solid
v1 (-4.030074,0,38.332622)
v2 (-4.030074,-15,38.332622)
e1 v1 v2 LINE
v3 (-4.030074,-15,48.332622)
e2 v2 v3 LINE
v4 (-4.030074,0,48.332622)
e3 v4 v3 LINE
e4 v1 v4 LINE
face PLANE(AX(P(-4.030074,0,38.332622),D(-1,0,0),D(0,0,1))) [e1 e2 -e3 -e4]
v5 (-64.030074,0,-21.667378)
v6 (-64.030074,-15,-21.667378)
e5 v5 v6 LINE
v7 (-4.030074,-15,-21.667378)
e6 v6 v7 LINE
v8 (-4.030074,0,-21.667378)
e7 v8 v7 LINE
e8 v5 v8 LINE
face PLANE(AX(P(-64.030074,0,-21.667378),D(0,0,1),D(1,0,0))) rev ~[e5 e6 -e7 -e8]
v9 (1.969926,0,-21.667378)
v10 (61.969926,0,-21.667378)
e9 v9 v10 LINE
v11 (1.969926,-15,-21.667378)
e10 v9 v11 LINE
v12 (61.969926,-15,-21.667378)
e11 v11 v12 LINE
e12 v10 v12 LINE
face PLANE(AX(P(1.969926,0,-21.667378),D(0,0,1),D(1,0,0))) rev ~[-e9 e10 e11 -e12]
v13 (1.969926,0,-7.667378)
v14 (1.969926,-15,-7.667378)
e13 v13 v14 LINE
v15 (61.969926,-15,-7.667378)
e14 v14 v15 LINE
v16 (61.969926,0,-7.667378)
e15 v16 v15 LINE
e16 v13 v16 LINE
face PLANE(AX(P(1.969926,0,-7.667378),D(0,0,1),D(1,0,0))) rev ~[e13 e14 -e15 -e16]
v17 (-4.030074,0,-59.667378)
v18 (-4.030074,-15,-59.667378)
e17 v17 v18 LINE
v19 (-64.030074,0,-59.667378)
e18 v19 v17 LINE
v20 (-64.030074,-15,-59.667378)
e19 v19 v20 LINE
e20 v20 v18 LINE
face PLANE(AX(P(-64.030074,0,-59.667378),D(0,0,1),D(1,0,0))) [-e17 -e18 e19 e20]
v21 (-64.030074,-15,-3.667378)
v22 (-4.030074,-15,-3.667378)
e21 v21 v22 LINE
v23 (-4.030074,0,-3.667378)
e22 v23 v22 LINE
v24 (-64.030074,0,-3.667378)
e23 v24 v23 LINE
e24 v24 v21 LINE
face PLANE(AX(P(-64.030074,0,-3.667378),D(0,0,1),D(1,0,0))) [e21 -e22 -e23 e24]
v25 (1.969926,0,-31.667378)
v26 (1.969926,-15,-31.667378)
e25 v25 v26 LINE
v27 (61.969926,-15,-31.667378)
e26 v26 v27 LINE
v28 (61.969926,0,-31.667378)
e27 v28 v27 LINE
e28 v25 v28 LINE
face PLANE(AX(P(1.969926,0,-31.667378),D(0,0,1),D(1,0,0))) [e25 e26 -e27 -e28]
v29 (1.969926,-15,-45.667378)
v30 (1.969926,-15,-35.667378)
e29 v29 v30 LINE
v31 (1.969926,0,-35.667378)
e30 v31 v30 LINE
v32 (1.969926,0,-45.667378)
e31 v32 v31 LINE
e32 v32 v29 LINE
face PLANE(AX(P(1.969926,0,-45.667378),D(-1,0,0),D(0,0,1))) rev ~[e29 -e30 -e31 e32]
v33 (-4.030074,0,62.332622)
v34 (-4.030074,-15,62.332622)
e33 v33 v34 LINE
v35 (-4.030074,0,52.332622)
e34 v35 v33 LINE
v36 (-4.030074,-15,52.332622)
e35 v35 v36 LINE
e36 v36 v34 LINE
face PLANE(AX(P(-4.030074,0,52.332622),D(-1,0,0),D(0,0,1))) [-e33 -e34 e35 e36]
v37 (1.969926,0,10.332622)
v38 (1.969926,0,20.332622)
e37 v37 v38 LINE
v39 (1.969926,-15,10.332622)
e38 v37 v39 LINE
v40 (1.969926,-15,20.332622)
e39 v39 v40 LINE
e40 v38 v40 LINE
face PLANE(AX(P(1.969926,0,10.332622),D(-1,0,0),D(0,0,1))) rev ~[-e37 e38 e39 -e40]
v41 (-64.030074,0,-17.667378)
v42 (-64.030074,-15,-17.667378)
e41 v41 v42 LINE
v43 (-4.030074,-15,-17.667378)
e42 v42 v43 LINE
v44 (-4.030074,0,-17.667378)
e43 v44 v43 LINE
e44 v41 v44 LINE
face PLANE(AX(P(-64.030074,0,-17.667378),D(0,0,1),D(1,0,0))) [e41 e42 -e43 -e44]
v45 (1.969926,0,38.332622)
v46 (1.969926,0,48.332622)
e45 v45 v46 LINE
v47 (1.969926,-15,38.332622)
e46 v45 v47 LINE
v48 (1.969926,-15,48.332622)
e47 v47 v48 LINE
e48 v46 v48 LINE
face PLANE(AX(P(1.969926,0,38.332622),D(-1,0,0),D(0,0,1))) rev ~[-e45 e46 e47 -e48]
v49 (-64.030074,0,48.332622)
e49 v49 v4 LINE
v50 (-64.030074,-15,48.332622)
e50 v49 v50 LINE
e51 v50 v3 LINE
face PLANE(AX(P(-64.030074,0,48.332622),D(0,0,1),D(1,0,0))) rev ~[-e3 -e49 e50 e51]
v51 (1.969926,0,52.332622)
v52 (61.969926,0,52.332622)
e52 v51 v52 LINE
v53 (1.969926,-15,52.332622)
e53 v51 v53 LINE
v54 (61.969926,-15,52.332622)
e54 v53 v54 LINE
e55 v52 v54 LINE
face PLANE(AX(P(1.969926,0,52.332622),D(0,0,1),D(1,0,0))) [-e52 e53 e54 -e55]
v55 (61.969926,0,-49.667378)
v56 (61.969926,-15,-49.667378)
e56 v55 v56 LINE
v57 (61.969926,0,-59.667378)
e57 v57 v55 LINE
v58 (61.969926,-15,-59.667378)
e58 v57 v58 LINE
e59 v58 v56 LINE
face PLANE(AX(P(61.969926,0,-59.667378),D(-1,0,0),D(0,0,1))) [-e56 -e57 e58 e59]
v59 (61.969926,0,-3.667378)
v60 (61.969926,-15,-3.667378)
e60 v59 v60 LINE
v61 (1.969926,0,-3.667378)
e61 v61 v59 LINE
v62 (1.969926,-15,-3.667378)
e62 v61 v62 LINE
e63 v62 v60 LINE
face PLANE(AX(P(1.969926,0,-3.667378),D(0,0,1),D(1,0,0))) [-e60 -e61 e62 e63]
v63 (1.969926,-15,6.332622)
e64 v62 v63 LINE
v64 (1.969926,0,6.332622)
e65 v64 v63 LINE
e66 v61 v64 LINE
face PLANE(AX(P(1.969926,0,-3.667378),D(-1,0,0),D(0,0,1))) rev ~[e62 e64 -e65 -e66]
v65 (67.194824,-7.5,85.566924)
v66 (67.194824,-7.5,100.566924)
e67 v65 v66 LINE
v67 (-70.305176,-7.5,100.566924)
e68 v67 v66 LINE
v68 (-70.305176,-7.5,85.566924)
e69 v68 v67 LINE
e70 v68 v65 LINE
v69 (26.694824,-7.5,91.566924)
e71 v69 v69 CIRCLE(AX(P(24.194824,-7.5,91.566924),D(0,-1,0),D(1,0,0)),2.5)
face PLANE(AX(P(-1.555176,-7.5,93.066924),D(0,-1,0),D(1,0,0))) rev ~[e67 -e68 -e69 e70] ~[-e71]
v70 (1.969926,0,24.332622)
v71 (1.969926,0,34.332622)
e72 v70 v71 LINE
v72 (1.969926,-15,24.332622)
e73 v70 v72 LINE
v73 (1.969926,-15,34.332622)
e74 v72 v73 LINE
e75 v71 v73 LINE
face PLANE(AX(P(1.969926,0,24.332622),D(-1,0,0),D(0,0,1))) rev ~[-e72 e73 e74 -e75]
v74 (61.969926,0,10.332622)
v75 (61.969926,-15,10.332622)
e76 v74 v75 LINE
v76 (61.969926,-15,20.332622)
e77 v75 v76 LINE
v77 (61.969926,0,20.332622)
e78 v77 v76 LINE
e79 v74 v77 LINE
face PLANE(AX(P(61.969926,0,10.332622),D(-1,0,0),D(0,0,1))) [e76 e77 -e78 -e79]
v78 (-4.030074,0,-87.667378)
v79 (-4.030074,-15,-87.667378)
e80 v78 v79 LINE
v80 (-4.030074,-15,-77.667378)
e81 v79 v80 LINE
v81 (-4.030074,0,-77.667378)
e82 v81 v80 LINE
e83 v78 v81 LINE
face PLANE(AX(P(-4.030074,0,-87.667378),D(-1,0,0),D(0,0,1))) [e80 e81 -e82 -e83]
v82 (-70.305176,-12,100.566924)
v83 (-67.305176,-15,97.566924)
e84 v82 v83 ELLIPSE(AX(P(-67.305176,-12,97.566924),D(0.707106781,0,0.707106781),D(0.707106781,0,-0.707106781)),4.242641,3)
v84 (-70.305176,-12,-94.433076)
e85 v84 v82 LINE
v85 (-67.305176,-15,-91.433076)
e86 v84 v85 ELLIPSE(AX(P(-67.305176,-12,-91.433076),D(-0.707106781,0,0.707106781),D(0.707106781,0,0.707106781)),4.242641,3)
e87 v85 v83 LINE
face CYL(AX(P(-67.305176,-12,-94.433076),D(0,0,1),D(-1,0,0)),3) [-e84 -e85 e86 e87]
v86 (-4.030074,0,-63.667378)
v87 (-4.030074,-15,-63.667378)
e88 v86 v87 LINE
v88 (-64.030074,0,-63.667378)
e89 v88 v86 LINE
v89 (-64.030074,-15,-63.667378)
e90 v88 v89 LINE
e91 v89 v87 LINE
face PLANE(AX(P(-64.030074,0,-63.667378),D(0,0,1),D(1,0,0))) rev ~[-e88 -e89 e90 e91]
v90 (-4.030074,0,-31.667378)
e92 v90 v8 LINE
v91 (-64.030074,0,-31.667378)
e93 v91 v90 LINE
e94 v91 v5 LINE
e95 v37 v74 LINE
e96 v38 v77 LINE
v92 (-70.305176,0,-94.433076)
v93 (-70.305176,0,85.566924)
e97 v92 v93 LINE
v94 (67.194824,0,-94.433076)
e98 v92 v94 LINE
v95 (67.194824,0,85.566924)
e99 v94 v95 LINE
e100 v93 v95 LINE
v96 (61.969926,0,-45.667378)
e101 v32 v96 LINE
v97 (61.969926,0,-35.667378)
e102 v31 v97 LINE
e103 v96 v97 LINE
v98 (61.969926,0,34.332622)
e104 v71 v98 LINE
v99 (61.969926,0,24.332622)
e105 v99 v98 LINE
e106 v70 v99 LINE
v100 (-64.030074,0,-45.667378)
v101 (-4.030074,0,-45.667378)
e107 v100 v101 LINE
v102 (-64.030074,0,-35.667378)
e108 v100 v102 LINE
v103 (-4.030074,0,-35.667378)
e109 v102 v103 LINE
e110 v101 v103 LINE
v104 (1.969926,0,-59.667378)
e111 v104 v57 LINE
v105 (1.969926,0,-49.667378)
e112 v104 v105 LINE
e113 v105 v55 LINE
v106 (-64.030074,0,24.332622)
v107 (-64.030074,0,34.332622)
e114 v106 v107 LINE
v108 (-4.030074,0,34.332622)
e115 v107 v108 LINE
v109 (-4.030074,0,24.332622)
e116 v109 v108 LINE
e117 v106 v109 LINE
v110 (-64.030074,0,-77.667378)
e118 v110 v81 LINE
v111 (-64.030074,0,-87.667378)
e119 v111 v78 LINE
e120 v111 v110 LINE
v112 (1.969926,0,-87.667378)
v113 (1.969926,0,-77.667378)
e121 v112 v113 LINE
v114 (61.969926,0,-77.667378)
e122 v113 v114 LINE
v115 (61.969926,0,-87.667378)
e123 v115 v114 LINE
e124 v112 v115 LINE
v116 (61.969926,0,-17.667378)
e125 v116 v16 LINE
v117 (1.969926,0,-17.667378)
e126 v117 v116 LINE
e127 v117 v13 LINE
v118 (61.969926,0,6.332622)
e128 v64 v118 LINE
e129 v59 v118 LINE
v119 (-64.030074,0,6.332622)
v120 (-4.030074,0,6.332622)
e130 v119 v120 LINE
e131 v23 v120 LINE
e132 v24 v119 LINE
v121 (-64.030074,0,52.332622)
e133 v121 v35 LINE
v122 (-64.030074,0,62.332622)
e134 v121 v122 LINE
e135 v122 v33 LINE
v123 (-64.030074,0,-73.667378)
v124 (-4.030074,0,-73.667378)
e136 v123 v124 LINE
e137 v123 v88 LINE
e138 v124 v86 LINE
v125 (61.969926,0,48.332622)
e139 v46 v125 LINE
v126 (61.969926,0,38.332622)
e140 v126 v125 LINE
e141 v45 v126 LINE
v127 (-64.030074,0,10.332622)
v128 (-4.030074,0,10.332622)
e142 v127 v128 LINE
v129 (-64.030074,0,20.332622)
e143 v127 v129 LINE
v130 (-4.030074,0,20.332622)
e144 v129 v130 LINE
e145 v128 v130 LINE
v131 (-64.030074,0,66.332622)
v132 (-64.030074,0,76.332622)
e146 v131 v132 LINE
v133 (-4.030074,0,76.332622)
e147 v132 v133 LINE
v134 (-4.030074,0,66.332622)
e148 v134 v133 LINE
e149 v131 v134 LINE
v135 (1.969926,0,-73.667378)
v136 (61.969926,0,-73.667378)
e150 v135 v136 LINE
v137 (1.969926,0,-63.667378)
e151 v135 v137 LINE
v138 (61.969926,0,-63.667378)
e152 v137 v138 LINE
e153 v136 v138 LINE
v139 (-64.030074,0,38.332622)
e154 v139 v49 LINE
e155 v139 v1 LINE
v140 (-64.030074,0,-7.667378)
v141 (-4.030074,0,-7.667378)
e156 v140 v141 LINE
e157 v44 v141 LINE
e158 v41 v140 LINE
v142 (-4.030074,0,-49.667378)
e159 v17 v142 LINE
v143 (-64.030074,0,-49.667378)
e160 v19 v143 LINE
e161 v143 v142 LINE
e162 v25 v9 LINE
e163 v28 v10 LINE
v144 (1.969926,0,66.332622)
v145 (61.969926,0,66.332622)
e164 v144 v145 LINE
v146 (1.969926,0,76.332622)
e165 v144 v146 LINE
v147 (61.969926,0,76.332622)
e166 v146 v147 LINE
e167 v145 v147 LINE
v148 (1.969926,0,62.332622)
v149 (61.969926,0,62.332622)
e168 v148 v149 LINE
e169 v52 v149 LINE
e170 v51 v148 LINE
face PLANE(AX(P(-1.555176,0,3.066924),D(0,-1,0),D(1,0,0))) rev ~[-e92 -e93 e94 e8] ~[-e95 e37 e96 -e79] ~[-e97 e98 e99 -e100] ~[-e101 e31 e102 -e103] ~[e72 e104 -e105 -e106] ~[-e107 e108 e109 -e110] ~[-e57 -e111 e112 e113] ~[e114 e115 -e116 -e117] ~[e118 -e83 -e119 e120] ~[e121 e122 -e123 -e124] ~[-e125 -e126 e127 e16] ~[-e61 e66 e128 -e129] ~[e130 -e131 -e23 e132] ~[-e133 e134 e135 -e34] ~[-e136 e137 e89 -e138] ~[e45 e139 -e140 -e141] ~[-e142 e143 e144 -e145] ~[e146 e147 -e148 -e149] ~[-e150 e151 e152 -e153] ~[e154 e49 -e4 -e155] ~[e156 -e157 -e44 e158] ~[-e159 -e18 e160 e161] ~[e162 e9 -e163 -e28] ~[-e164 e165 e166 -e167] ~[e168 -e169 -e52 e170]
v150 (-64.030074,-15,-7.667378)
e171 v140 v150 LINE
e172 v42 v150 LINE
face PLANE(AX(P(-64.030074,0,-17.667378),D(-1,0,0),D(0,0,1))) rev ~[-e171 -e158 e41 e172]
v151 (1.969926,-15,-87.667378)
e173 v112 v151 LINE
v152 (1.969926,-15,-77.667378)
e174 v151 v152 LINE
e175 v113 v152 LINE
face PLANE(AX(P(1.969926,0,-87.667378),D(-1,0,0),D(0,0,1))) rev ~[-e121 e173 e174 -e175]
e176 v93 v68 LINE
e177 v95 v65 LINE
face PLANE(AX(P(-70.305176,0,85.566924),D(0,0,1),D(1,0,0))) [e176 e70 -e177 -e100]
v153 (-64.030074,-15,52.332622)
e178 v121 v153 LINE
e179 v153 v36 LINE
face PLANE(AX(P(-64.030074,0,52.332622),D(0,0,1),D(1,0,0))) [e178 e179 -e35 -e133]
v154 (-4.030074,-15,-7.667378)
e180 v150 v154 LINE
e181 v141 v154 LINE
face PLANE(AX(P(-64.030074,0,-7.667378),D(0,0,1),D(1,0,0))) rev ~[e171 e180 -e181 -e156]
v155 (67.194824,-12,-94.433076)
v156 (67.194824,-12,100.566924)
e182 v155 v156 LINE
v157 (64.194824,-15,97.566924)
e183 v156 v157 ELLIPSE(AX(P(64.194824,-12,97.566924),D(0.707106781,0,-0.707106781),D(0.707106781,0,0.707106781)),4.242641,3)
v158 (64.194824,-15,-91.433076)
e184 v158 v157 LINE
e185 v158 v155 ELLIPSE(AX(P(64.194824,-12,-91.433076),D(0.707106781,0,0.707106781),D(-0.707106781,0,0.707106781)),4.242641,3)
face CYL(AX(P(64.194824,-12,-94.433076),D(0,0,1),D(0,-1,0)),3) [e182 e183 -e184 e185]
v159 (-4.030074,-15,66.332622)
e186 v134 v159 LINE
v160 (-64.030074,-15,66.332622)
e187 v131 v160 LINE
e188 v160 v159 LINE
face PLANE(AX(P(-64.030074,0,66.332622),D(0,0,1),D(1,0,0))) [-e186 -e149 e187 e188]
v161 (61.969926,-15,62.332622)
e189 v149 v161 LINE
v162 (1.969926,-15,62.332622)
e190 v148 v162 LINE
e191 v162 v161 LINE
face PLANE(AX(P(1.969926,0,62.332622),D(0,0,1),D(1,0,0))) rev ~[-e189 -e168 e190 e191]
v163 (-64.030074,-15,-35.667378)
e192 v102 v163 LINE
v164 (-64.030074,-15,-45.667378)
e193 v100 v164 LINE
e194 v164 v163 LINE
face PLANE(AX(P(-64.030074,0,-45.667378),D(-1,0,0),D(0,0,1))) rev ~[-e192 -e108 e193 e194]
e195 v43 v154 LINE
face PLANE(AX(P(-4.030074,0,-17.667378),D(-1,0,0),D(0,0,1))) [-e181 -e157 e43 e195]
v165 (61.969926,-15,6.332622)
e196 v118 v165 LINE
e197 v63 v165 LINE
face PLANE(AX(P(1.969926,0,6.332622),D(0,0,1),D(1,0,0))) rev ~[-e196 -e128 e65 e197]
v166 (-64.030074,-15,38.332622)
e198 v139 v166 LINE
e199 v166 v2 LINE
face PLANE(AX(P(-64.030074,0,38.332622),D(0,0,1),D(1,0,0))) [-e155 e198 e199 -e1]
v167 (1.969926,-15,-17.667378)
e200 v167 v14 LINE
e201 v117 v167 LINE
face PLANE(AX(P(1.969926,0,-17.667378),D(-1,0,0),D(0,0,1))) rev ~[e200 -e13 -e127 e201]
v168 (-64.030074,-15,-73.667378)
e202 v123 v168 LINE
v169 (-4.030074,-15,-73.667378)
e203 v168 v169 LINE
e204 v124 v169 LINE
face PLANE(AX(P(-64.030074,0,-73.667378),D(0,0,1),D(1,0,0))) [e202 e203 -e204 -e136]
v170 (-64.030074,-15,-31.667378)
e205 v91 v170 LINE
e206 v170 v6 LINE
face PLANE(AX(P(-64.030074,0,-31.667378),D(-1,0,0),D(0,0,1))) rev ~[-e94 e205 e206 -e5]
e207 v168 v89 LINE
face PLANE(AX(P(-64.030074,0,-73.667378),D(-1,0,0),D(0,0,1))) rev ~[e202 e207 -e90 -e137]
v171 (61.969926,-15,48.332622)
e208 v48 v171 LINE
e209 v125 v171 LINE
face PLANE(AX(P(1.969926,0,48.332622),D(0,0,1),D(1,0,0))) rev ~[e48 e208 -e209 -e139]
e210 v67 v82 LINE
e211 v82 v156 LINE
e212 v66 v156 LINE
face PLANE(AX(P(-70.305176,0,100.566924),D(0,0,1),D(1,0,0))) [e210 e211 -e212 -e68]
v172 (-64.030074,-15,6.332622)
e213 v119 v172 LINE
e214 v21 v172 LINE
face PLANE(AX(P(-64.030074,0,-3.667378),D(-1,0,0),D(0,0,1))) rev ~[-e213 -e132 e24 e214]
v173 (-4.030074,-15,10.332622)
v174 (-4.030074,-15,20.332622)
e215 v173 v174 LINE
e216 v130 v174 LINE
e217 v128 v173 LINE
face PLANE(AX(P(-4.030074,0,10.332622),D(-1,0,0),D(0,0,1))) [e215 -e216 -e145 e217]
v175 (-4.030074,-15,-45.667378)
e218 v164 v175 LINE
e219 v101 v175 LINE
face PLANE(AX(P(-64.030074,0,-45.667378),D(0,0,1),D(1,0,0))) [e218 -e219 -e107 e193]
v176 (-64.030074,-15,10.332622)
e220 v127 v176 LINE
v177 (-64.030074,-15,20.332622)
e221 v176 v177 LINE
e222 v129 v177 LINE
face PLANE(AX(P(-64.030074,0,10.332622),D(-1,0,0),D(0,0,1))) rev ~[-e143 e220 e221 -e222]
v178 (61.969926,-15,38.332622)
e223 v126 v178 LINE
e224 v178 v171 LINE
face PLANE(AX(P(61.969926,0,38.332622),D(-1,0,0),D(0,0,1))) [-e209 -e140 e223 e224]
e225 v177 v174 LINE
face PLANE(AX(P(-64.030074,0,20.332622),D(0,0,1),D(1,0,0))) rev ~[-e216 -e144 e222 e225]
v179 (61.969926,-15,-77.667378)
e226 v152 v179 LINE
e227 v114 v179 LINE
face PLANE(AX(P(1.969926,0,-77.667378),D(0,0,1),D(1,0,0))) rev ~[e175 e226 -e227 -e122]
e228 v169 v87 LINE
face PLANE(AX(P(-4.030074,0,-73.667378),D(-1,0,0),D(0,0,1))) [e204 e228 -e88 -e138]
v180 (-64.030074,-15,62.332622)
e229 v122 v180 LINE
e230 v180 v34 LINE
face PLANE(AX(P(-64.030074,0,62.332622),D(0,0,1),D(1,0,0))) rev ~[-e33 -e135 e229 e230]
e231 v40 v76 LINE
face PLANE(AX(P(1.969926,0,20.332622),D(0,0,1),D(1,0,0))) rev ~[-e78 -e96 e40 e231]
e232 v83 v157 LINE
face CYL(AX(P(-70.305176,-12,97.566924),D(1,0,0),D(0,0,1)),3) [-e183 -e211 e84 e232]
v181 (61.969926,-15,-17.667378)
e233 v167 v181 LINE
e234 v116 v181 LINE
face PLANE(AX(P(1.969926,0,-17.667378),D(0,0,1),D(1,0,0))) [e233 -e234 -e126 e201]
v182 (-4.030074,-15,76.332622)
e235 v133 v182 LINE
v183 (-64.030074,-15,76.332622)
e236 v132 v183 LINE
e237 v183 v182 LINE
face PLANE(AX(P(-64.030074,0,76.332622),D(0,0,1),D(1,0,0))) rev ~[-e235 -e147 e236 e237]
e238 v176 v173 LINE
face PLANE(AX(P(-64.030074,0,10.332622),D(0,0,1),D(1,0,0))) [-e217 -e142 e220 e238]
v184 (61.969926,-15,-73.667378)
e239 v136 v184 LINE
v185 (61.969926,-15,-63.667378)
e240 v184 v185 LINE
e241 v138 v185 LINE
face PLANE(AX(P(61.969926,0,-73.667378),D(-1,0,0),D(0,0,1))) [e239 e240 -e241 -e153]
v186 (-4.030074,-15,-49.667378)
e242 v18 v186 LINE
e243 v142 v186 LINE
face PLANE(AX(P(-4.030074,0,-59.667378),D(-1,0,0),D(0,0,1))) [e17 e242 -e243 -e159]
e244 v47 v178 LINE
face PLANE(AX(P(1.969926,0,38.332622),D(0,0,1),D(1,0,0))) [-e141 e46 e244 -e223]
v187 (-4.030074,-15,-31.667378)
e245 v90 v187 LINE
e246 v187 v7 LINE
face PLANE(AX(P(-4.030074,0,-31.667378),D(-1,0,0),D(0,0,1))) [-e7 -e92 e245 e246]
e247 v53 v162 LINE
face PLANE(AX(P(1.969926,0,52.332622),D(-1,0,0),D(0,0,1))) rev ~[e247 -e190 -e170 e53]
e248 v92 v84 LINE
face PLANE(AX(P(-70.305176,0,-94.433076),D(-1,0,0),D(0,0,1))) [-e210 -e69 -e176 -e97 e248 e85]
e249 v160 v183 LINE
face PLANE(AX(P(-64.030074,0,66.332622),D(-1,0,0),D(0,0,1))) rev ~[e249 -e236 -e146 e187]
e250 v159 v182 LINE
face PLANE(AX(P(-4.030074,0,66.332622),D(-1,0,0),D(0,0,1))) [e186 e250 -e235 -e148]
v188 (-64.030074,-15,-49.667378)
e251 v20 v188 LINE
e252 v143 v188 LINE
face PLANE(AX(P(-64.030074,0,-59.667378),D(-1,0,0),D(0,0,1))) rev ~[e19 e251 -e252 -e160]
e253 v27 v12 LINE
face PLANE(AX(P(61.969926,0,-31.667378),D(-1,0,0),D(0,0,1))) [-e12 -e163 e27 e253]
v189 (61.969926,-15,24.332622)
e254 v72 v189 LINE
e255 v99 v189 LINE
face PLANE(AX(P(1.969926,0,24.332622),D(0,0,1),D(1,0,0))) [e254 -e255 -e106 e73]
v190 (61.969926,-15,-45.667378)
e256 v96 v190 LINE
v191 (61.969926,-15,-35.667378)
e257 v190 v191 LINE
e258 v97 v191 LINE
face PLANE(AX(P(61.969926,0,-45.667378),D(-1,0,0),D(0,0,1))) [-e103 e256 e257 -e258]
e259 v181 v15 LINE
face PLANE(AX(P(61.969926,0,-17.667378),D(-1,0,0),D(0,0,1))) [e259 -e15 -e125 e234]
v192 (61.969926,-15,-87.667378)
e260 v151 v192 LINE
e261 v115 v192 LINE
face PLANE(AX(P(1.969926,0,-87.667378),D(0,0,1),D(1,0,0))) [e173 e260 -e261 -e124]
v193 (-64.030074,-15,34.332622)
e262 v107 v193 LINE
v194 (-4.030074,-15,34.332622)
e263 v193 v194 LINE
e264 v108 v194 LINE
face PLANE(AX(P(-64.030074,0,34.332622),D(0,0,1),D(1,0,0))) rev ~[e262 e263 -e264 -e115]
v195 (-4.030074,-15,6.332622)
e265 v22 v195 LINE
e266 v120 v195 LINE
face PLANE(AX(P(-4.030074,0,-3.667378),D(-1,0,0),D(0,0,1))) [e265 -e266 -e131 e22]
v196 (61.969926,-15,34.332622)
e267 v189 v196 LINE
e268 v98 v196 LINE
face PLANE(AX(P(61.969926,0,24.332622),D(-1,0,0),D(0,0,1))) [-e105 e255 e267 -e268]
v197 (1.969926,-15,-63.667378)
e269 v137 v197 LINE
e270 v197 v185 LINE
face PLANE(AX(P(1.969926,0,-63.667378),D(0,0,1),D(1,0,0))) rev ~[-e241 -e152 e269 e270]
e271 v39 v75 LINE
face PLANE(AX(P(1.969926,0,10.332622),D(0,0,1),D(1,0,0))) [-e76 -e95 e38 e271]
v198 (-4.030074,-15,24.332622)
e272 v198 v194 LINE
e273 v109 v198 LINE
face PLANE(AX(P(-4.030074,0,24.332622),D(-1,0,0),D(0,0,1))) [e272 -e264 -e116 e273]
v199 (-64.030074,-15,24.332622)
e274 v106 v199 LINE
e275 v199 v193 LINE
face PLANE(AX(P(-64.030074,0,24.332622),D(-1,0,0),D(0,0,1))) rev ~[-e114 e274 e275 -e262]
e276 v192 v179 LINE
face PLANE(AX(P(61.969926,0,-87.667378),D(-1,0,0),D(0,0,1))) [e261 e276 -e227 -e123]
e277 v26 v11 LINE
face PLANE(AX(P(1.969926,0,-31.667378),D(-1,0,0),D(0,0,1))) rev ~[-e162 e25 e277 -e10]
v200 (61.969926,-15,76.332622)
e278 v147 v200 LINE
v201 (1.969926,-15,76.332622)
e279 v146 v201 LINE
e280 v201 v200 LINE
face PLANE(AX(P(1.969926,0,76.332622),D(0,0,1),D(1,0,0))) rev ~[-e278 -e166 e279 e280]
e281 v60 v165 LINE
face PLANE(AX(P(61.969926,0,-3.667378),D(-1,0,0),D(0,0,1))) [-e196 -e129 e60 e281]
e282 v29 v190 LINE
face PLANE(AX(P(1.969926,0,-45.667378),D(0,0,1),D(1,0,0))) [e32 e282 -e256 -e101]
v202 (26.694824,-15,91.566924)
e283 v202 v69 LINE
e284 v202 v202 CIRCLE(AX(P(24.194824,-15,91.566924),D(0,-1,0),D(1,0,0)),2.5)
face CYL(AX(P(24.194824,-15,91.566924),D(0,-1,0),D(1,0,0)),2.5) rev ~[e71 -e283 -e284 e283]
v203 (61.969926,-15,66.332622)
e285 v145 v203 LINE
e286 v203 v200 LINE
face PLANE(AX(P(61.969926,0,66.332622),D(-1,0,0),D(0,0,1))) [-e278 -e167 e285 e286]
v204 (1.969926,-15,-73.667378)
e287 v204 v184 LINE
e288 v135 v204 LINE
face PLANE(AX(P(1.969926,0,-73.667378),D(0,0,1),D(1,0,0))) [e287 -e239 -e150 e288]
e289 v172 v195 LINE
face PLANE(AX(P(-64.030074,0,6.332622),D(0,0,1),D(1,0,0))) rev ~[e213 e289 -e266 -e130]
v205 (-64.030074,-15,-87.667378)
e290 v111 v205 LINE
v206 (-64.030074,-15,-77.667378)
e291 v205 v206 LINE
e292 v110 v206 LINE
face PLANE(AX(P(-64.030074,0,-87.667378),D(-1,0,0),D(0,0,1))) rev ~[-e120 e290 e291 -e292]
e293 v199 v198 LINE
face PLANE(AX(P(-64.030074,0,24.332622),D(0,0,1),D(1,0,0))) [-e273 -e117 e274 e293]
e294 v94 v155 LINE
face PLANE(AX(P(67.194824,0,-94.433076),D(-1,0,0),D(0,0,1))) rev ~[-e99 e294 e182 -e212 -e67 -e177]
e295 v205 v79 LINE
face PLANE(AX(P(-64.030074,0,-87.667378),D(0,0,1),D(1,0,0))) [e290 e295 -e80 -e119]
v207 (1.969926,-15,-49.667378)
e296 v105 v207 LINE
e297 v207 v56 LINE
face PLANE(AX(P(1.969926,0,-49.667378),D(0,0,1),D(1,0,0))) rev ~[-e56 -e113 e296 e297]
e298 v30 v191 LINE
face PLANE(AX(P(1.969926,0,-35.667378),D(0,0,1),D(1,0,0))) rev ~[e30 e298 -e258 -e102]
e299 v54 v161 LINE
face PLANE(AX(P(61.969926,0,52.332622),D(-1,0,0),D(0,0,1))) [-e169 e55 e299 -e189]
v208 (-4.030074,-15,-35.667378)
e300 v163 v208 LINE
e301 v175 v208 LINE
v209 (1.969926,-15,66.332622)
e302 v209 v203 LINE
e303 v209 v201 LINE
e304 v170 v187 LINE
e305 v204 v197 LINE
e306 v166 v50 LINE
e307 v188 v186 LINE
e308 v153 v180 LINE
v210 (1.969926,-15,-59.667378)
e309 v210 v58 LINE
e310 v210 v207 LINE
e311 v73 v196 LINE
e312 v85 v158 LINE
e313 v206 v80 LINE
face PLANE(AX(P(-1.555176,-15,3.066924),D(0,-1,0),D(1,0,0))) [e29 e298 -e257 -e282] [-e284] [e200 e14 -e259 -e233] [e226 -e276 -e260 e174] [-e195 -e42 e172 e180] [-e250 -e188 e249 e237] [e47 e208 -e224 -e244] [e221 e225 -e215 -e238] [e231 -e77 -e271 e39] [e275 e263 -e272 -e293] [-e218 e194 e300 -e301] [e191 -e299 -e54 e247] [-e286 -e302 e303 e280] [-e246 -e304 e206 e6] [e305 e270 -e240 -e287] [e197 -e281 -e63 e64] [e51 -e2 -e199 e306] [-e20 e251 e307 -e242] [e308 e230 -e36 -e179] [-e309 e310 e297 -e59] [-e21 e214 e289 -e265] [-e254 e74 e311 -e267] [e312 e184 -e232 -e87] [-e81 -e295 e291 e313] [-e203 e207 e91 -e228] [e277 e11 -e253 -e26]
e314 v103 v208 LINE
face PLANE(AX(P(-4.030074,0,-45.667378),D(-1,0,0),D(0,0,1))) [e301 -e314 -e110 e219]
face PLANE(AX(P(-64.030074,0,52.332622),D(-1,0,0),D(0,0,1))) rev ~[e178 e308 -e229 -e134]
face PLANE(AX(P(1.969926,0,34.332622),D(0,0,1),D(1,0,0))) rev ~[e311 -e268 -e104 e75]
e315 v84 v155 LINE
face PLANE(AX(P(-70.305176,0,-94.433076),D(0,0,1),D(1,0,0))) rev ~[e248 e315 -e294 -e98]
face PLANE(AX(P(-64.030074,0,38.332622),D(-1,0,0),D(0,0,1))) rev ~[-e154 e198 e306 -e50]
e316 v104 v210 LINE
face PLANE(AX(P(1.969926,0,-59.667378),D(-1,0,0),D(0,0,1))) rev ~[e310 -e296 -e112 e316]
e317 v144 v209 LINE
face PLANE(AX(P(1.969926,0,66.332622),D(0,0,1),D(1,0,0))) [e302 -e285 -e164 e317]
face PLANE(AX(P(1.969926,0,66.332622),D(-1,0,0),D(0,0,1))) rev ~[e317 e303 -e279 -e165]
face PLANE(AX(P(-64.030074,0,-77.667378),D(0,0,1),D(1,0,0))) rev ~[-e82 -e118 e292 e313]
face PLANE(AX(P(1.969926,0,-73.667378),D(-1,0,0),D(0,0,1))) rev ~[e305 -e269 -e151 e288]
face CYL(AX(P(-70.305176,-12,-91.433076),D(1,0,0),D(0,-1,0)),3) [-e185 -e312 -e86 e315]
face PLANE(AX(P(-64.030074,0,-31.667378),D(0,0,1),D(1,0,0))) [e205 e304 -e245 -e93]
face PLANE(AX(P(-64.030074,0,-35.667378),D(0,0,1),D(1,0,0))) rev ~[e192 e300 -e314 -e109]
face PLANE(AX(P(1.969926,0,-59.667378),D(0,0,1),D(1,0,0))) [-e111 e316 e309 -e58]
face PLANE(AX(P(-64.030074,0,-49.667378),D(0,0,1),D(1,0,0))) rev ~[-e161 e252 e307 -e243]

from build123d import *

# Parameters (mm, degrees)
F0_W     = 137.5
F0_H     = 195
F0_W_2   = 60
F0_H_2   = 10
F1_DEPTH = 15
F2_W     = 137.5
F2_H     = 15
F3_DEPTH = 7.5
F4_R     = 2.5
F5_DEPTH = 7.5
F6_R     = 3


with BuildPart() as f1:
    # F0 (on Front) → F1 (new body)
    with BuildSketch(Plane.XZ):
        with Locations((-1.555176, 3.066924)):
            Rectangle(F0_W, F0_H)
        with Locations((-34.030074, -82.667378)):
            Rectangle(F0_W_2, F0_H_2, mode=Mode.SUBTRACT)
        with Locations((-34.030074, -68.667378)):
            Rectangle(F0_W_2, F0_H_2, mode=Mode.SUBTRACT)
        with Locations((-34.030074, -54.667378)):
            Rectangle(F0_W_2, F0_H_2, mode=Mode.SUBTRACT)
        with Locations((-34.030074, -40.667378)):
            Rectangle(F0_W_2, F0_H_2, mode=Mode.SUBTRACT)
        with Locations((-34.030074, -26.667378)):
            Rectangle(F0_W_2, F0_H_2, mode=Mode.SUBTRACT)
        with Locations((-34.030074, -12.667378)):
            Rectangle(F0_W_2, F0_H_2, mode=Mode.SUBTRACT)
        with Locations((-34.030074, 1.332622)):
            Rectangle(F0_W_2, F0_H_2, mode=Mode.SUBTRACT)
        with Locations((31.969926, -82.667378)):
            Rectangle(F0_W_2, F0_H_2, mode=Mode.SUBTRACT)
        with Locations((31.969926, -68.667378)):
            Rectangle(F0_W_2, F0_H_2, mode=Mode.SUBTRACT)
        with Locations((31.969926, -54.667378)):
            Rectangle(F0_W_2, F0_H_2, mode=Mode.SUBTRACT)
        with Locations((31.969926, -40.667378)):
            Rectangle(F0_W_2, F0_H_2, mode=Mode.SUBTRACT)
        with Locations((31.969926, -26.667378)):
            Rectangle(F0_W_2, F0_H_2, mode=Mode.SUBTRACT)
        with Locations((31.969926, -12.667378)):
            Rectangle(F0_W_2, F0_H_2, mode=Mode.SUBTRACT)
        with Locations((31.969926, 1.332622)):
            Rectangle(F0_W_2, F0_H_2, mode=Mode.SUBTRACT)
        with Locations((-34.030074, 15.332622)):
            Rectangle(F0_W_2, F0_H_2, mode=Mode.SUBTRACT)
        with Locations((-34.030074, 29.332622)):
            Rectangle(F0_W_2, F0_H_2, mode=Mode.SUBTRACT)
        with Locations((-34.030074, 43.332622)):
            Rectangle(F0_W_2, F0_H_2, mode=Mode.SUBTRACT)
        with Locations((-34.030074, 57.332622)):
            Rectangle(F0_W_2, F0_H_2, mode=Mode.SUBTRACT)
        with Locations((-34.030074, 71.332622)):
            Rectangle(F0_W_2, F0_H_2, mode=Mode.SUBTRACT)
        with Locations((31.969926, 15.332622)):
            Rectangle(F0_W_2, F0_H_2, mode=Mode.SUBTRACT)
        with Locations((31.969926, 29.332622)):
            Rectangle(F0_W_2, F0_H_2, mode=Mode.SUBTRACT)
        with Locations((31.969926, 43.332622)):
            Rectangle(F0_W_2, F0_H_2, mode=Mode.SUBTRACT)
        with Locations((31.969926, 57.332622)):
            Rectangle(F0_W_2, F0_H_2, mode=Mode.SUBTRACT)
        with Locations((31.969926, 71.332622)):
            Rectangle(F0_W_2, F0_H_2, mode=Mode.SUBTRACT)
    extrude(amount=F1_DEPTH)

    # F2 (on Front) → F3 (cut)
    with BuildSketch(Plane.XZ):
        with Locations((-1.555176, 93.066924)):
            Rectangle(F2_W, F2_H)
    extrude(amount=F3_DEPTH, mode=Mode.SUBTRACT)

    # F4 (on face) → F5 (cut, through all)
    with BuildSketch(Plane.XZ.offset(15)):
        with Locations((24.194824, 91.566924)):
            Circle(F4_R)
    extrude(amount=-F5_DEPTH, mode=Mode.SUBTRACT)

    # F6
    f6_edges = [f1.edges().sort_by_distance(p)[0] for p in [
        (-1.555176, -15, 100.566924),
        (-70.305176, -15, 3.066924),
        (67.194824, -15, 3.066924),
        (-1.555176, -15, -94.433076),
    ]]
    fillet(f6_edges, radius=F6_R)


solid = f1.part
